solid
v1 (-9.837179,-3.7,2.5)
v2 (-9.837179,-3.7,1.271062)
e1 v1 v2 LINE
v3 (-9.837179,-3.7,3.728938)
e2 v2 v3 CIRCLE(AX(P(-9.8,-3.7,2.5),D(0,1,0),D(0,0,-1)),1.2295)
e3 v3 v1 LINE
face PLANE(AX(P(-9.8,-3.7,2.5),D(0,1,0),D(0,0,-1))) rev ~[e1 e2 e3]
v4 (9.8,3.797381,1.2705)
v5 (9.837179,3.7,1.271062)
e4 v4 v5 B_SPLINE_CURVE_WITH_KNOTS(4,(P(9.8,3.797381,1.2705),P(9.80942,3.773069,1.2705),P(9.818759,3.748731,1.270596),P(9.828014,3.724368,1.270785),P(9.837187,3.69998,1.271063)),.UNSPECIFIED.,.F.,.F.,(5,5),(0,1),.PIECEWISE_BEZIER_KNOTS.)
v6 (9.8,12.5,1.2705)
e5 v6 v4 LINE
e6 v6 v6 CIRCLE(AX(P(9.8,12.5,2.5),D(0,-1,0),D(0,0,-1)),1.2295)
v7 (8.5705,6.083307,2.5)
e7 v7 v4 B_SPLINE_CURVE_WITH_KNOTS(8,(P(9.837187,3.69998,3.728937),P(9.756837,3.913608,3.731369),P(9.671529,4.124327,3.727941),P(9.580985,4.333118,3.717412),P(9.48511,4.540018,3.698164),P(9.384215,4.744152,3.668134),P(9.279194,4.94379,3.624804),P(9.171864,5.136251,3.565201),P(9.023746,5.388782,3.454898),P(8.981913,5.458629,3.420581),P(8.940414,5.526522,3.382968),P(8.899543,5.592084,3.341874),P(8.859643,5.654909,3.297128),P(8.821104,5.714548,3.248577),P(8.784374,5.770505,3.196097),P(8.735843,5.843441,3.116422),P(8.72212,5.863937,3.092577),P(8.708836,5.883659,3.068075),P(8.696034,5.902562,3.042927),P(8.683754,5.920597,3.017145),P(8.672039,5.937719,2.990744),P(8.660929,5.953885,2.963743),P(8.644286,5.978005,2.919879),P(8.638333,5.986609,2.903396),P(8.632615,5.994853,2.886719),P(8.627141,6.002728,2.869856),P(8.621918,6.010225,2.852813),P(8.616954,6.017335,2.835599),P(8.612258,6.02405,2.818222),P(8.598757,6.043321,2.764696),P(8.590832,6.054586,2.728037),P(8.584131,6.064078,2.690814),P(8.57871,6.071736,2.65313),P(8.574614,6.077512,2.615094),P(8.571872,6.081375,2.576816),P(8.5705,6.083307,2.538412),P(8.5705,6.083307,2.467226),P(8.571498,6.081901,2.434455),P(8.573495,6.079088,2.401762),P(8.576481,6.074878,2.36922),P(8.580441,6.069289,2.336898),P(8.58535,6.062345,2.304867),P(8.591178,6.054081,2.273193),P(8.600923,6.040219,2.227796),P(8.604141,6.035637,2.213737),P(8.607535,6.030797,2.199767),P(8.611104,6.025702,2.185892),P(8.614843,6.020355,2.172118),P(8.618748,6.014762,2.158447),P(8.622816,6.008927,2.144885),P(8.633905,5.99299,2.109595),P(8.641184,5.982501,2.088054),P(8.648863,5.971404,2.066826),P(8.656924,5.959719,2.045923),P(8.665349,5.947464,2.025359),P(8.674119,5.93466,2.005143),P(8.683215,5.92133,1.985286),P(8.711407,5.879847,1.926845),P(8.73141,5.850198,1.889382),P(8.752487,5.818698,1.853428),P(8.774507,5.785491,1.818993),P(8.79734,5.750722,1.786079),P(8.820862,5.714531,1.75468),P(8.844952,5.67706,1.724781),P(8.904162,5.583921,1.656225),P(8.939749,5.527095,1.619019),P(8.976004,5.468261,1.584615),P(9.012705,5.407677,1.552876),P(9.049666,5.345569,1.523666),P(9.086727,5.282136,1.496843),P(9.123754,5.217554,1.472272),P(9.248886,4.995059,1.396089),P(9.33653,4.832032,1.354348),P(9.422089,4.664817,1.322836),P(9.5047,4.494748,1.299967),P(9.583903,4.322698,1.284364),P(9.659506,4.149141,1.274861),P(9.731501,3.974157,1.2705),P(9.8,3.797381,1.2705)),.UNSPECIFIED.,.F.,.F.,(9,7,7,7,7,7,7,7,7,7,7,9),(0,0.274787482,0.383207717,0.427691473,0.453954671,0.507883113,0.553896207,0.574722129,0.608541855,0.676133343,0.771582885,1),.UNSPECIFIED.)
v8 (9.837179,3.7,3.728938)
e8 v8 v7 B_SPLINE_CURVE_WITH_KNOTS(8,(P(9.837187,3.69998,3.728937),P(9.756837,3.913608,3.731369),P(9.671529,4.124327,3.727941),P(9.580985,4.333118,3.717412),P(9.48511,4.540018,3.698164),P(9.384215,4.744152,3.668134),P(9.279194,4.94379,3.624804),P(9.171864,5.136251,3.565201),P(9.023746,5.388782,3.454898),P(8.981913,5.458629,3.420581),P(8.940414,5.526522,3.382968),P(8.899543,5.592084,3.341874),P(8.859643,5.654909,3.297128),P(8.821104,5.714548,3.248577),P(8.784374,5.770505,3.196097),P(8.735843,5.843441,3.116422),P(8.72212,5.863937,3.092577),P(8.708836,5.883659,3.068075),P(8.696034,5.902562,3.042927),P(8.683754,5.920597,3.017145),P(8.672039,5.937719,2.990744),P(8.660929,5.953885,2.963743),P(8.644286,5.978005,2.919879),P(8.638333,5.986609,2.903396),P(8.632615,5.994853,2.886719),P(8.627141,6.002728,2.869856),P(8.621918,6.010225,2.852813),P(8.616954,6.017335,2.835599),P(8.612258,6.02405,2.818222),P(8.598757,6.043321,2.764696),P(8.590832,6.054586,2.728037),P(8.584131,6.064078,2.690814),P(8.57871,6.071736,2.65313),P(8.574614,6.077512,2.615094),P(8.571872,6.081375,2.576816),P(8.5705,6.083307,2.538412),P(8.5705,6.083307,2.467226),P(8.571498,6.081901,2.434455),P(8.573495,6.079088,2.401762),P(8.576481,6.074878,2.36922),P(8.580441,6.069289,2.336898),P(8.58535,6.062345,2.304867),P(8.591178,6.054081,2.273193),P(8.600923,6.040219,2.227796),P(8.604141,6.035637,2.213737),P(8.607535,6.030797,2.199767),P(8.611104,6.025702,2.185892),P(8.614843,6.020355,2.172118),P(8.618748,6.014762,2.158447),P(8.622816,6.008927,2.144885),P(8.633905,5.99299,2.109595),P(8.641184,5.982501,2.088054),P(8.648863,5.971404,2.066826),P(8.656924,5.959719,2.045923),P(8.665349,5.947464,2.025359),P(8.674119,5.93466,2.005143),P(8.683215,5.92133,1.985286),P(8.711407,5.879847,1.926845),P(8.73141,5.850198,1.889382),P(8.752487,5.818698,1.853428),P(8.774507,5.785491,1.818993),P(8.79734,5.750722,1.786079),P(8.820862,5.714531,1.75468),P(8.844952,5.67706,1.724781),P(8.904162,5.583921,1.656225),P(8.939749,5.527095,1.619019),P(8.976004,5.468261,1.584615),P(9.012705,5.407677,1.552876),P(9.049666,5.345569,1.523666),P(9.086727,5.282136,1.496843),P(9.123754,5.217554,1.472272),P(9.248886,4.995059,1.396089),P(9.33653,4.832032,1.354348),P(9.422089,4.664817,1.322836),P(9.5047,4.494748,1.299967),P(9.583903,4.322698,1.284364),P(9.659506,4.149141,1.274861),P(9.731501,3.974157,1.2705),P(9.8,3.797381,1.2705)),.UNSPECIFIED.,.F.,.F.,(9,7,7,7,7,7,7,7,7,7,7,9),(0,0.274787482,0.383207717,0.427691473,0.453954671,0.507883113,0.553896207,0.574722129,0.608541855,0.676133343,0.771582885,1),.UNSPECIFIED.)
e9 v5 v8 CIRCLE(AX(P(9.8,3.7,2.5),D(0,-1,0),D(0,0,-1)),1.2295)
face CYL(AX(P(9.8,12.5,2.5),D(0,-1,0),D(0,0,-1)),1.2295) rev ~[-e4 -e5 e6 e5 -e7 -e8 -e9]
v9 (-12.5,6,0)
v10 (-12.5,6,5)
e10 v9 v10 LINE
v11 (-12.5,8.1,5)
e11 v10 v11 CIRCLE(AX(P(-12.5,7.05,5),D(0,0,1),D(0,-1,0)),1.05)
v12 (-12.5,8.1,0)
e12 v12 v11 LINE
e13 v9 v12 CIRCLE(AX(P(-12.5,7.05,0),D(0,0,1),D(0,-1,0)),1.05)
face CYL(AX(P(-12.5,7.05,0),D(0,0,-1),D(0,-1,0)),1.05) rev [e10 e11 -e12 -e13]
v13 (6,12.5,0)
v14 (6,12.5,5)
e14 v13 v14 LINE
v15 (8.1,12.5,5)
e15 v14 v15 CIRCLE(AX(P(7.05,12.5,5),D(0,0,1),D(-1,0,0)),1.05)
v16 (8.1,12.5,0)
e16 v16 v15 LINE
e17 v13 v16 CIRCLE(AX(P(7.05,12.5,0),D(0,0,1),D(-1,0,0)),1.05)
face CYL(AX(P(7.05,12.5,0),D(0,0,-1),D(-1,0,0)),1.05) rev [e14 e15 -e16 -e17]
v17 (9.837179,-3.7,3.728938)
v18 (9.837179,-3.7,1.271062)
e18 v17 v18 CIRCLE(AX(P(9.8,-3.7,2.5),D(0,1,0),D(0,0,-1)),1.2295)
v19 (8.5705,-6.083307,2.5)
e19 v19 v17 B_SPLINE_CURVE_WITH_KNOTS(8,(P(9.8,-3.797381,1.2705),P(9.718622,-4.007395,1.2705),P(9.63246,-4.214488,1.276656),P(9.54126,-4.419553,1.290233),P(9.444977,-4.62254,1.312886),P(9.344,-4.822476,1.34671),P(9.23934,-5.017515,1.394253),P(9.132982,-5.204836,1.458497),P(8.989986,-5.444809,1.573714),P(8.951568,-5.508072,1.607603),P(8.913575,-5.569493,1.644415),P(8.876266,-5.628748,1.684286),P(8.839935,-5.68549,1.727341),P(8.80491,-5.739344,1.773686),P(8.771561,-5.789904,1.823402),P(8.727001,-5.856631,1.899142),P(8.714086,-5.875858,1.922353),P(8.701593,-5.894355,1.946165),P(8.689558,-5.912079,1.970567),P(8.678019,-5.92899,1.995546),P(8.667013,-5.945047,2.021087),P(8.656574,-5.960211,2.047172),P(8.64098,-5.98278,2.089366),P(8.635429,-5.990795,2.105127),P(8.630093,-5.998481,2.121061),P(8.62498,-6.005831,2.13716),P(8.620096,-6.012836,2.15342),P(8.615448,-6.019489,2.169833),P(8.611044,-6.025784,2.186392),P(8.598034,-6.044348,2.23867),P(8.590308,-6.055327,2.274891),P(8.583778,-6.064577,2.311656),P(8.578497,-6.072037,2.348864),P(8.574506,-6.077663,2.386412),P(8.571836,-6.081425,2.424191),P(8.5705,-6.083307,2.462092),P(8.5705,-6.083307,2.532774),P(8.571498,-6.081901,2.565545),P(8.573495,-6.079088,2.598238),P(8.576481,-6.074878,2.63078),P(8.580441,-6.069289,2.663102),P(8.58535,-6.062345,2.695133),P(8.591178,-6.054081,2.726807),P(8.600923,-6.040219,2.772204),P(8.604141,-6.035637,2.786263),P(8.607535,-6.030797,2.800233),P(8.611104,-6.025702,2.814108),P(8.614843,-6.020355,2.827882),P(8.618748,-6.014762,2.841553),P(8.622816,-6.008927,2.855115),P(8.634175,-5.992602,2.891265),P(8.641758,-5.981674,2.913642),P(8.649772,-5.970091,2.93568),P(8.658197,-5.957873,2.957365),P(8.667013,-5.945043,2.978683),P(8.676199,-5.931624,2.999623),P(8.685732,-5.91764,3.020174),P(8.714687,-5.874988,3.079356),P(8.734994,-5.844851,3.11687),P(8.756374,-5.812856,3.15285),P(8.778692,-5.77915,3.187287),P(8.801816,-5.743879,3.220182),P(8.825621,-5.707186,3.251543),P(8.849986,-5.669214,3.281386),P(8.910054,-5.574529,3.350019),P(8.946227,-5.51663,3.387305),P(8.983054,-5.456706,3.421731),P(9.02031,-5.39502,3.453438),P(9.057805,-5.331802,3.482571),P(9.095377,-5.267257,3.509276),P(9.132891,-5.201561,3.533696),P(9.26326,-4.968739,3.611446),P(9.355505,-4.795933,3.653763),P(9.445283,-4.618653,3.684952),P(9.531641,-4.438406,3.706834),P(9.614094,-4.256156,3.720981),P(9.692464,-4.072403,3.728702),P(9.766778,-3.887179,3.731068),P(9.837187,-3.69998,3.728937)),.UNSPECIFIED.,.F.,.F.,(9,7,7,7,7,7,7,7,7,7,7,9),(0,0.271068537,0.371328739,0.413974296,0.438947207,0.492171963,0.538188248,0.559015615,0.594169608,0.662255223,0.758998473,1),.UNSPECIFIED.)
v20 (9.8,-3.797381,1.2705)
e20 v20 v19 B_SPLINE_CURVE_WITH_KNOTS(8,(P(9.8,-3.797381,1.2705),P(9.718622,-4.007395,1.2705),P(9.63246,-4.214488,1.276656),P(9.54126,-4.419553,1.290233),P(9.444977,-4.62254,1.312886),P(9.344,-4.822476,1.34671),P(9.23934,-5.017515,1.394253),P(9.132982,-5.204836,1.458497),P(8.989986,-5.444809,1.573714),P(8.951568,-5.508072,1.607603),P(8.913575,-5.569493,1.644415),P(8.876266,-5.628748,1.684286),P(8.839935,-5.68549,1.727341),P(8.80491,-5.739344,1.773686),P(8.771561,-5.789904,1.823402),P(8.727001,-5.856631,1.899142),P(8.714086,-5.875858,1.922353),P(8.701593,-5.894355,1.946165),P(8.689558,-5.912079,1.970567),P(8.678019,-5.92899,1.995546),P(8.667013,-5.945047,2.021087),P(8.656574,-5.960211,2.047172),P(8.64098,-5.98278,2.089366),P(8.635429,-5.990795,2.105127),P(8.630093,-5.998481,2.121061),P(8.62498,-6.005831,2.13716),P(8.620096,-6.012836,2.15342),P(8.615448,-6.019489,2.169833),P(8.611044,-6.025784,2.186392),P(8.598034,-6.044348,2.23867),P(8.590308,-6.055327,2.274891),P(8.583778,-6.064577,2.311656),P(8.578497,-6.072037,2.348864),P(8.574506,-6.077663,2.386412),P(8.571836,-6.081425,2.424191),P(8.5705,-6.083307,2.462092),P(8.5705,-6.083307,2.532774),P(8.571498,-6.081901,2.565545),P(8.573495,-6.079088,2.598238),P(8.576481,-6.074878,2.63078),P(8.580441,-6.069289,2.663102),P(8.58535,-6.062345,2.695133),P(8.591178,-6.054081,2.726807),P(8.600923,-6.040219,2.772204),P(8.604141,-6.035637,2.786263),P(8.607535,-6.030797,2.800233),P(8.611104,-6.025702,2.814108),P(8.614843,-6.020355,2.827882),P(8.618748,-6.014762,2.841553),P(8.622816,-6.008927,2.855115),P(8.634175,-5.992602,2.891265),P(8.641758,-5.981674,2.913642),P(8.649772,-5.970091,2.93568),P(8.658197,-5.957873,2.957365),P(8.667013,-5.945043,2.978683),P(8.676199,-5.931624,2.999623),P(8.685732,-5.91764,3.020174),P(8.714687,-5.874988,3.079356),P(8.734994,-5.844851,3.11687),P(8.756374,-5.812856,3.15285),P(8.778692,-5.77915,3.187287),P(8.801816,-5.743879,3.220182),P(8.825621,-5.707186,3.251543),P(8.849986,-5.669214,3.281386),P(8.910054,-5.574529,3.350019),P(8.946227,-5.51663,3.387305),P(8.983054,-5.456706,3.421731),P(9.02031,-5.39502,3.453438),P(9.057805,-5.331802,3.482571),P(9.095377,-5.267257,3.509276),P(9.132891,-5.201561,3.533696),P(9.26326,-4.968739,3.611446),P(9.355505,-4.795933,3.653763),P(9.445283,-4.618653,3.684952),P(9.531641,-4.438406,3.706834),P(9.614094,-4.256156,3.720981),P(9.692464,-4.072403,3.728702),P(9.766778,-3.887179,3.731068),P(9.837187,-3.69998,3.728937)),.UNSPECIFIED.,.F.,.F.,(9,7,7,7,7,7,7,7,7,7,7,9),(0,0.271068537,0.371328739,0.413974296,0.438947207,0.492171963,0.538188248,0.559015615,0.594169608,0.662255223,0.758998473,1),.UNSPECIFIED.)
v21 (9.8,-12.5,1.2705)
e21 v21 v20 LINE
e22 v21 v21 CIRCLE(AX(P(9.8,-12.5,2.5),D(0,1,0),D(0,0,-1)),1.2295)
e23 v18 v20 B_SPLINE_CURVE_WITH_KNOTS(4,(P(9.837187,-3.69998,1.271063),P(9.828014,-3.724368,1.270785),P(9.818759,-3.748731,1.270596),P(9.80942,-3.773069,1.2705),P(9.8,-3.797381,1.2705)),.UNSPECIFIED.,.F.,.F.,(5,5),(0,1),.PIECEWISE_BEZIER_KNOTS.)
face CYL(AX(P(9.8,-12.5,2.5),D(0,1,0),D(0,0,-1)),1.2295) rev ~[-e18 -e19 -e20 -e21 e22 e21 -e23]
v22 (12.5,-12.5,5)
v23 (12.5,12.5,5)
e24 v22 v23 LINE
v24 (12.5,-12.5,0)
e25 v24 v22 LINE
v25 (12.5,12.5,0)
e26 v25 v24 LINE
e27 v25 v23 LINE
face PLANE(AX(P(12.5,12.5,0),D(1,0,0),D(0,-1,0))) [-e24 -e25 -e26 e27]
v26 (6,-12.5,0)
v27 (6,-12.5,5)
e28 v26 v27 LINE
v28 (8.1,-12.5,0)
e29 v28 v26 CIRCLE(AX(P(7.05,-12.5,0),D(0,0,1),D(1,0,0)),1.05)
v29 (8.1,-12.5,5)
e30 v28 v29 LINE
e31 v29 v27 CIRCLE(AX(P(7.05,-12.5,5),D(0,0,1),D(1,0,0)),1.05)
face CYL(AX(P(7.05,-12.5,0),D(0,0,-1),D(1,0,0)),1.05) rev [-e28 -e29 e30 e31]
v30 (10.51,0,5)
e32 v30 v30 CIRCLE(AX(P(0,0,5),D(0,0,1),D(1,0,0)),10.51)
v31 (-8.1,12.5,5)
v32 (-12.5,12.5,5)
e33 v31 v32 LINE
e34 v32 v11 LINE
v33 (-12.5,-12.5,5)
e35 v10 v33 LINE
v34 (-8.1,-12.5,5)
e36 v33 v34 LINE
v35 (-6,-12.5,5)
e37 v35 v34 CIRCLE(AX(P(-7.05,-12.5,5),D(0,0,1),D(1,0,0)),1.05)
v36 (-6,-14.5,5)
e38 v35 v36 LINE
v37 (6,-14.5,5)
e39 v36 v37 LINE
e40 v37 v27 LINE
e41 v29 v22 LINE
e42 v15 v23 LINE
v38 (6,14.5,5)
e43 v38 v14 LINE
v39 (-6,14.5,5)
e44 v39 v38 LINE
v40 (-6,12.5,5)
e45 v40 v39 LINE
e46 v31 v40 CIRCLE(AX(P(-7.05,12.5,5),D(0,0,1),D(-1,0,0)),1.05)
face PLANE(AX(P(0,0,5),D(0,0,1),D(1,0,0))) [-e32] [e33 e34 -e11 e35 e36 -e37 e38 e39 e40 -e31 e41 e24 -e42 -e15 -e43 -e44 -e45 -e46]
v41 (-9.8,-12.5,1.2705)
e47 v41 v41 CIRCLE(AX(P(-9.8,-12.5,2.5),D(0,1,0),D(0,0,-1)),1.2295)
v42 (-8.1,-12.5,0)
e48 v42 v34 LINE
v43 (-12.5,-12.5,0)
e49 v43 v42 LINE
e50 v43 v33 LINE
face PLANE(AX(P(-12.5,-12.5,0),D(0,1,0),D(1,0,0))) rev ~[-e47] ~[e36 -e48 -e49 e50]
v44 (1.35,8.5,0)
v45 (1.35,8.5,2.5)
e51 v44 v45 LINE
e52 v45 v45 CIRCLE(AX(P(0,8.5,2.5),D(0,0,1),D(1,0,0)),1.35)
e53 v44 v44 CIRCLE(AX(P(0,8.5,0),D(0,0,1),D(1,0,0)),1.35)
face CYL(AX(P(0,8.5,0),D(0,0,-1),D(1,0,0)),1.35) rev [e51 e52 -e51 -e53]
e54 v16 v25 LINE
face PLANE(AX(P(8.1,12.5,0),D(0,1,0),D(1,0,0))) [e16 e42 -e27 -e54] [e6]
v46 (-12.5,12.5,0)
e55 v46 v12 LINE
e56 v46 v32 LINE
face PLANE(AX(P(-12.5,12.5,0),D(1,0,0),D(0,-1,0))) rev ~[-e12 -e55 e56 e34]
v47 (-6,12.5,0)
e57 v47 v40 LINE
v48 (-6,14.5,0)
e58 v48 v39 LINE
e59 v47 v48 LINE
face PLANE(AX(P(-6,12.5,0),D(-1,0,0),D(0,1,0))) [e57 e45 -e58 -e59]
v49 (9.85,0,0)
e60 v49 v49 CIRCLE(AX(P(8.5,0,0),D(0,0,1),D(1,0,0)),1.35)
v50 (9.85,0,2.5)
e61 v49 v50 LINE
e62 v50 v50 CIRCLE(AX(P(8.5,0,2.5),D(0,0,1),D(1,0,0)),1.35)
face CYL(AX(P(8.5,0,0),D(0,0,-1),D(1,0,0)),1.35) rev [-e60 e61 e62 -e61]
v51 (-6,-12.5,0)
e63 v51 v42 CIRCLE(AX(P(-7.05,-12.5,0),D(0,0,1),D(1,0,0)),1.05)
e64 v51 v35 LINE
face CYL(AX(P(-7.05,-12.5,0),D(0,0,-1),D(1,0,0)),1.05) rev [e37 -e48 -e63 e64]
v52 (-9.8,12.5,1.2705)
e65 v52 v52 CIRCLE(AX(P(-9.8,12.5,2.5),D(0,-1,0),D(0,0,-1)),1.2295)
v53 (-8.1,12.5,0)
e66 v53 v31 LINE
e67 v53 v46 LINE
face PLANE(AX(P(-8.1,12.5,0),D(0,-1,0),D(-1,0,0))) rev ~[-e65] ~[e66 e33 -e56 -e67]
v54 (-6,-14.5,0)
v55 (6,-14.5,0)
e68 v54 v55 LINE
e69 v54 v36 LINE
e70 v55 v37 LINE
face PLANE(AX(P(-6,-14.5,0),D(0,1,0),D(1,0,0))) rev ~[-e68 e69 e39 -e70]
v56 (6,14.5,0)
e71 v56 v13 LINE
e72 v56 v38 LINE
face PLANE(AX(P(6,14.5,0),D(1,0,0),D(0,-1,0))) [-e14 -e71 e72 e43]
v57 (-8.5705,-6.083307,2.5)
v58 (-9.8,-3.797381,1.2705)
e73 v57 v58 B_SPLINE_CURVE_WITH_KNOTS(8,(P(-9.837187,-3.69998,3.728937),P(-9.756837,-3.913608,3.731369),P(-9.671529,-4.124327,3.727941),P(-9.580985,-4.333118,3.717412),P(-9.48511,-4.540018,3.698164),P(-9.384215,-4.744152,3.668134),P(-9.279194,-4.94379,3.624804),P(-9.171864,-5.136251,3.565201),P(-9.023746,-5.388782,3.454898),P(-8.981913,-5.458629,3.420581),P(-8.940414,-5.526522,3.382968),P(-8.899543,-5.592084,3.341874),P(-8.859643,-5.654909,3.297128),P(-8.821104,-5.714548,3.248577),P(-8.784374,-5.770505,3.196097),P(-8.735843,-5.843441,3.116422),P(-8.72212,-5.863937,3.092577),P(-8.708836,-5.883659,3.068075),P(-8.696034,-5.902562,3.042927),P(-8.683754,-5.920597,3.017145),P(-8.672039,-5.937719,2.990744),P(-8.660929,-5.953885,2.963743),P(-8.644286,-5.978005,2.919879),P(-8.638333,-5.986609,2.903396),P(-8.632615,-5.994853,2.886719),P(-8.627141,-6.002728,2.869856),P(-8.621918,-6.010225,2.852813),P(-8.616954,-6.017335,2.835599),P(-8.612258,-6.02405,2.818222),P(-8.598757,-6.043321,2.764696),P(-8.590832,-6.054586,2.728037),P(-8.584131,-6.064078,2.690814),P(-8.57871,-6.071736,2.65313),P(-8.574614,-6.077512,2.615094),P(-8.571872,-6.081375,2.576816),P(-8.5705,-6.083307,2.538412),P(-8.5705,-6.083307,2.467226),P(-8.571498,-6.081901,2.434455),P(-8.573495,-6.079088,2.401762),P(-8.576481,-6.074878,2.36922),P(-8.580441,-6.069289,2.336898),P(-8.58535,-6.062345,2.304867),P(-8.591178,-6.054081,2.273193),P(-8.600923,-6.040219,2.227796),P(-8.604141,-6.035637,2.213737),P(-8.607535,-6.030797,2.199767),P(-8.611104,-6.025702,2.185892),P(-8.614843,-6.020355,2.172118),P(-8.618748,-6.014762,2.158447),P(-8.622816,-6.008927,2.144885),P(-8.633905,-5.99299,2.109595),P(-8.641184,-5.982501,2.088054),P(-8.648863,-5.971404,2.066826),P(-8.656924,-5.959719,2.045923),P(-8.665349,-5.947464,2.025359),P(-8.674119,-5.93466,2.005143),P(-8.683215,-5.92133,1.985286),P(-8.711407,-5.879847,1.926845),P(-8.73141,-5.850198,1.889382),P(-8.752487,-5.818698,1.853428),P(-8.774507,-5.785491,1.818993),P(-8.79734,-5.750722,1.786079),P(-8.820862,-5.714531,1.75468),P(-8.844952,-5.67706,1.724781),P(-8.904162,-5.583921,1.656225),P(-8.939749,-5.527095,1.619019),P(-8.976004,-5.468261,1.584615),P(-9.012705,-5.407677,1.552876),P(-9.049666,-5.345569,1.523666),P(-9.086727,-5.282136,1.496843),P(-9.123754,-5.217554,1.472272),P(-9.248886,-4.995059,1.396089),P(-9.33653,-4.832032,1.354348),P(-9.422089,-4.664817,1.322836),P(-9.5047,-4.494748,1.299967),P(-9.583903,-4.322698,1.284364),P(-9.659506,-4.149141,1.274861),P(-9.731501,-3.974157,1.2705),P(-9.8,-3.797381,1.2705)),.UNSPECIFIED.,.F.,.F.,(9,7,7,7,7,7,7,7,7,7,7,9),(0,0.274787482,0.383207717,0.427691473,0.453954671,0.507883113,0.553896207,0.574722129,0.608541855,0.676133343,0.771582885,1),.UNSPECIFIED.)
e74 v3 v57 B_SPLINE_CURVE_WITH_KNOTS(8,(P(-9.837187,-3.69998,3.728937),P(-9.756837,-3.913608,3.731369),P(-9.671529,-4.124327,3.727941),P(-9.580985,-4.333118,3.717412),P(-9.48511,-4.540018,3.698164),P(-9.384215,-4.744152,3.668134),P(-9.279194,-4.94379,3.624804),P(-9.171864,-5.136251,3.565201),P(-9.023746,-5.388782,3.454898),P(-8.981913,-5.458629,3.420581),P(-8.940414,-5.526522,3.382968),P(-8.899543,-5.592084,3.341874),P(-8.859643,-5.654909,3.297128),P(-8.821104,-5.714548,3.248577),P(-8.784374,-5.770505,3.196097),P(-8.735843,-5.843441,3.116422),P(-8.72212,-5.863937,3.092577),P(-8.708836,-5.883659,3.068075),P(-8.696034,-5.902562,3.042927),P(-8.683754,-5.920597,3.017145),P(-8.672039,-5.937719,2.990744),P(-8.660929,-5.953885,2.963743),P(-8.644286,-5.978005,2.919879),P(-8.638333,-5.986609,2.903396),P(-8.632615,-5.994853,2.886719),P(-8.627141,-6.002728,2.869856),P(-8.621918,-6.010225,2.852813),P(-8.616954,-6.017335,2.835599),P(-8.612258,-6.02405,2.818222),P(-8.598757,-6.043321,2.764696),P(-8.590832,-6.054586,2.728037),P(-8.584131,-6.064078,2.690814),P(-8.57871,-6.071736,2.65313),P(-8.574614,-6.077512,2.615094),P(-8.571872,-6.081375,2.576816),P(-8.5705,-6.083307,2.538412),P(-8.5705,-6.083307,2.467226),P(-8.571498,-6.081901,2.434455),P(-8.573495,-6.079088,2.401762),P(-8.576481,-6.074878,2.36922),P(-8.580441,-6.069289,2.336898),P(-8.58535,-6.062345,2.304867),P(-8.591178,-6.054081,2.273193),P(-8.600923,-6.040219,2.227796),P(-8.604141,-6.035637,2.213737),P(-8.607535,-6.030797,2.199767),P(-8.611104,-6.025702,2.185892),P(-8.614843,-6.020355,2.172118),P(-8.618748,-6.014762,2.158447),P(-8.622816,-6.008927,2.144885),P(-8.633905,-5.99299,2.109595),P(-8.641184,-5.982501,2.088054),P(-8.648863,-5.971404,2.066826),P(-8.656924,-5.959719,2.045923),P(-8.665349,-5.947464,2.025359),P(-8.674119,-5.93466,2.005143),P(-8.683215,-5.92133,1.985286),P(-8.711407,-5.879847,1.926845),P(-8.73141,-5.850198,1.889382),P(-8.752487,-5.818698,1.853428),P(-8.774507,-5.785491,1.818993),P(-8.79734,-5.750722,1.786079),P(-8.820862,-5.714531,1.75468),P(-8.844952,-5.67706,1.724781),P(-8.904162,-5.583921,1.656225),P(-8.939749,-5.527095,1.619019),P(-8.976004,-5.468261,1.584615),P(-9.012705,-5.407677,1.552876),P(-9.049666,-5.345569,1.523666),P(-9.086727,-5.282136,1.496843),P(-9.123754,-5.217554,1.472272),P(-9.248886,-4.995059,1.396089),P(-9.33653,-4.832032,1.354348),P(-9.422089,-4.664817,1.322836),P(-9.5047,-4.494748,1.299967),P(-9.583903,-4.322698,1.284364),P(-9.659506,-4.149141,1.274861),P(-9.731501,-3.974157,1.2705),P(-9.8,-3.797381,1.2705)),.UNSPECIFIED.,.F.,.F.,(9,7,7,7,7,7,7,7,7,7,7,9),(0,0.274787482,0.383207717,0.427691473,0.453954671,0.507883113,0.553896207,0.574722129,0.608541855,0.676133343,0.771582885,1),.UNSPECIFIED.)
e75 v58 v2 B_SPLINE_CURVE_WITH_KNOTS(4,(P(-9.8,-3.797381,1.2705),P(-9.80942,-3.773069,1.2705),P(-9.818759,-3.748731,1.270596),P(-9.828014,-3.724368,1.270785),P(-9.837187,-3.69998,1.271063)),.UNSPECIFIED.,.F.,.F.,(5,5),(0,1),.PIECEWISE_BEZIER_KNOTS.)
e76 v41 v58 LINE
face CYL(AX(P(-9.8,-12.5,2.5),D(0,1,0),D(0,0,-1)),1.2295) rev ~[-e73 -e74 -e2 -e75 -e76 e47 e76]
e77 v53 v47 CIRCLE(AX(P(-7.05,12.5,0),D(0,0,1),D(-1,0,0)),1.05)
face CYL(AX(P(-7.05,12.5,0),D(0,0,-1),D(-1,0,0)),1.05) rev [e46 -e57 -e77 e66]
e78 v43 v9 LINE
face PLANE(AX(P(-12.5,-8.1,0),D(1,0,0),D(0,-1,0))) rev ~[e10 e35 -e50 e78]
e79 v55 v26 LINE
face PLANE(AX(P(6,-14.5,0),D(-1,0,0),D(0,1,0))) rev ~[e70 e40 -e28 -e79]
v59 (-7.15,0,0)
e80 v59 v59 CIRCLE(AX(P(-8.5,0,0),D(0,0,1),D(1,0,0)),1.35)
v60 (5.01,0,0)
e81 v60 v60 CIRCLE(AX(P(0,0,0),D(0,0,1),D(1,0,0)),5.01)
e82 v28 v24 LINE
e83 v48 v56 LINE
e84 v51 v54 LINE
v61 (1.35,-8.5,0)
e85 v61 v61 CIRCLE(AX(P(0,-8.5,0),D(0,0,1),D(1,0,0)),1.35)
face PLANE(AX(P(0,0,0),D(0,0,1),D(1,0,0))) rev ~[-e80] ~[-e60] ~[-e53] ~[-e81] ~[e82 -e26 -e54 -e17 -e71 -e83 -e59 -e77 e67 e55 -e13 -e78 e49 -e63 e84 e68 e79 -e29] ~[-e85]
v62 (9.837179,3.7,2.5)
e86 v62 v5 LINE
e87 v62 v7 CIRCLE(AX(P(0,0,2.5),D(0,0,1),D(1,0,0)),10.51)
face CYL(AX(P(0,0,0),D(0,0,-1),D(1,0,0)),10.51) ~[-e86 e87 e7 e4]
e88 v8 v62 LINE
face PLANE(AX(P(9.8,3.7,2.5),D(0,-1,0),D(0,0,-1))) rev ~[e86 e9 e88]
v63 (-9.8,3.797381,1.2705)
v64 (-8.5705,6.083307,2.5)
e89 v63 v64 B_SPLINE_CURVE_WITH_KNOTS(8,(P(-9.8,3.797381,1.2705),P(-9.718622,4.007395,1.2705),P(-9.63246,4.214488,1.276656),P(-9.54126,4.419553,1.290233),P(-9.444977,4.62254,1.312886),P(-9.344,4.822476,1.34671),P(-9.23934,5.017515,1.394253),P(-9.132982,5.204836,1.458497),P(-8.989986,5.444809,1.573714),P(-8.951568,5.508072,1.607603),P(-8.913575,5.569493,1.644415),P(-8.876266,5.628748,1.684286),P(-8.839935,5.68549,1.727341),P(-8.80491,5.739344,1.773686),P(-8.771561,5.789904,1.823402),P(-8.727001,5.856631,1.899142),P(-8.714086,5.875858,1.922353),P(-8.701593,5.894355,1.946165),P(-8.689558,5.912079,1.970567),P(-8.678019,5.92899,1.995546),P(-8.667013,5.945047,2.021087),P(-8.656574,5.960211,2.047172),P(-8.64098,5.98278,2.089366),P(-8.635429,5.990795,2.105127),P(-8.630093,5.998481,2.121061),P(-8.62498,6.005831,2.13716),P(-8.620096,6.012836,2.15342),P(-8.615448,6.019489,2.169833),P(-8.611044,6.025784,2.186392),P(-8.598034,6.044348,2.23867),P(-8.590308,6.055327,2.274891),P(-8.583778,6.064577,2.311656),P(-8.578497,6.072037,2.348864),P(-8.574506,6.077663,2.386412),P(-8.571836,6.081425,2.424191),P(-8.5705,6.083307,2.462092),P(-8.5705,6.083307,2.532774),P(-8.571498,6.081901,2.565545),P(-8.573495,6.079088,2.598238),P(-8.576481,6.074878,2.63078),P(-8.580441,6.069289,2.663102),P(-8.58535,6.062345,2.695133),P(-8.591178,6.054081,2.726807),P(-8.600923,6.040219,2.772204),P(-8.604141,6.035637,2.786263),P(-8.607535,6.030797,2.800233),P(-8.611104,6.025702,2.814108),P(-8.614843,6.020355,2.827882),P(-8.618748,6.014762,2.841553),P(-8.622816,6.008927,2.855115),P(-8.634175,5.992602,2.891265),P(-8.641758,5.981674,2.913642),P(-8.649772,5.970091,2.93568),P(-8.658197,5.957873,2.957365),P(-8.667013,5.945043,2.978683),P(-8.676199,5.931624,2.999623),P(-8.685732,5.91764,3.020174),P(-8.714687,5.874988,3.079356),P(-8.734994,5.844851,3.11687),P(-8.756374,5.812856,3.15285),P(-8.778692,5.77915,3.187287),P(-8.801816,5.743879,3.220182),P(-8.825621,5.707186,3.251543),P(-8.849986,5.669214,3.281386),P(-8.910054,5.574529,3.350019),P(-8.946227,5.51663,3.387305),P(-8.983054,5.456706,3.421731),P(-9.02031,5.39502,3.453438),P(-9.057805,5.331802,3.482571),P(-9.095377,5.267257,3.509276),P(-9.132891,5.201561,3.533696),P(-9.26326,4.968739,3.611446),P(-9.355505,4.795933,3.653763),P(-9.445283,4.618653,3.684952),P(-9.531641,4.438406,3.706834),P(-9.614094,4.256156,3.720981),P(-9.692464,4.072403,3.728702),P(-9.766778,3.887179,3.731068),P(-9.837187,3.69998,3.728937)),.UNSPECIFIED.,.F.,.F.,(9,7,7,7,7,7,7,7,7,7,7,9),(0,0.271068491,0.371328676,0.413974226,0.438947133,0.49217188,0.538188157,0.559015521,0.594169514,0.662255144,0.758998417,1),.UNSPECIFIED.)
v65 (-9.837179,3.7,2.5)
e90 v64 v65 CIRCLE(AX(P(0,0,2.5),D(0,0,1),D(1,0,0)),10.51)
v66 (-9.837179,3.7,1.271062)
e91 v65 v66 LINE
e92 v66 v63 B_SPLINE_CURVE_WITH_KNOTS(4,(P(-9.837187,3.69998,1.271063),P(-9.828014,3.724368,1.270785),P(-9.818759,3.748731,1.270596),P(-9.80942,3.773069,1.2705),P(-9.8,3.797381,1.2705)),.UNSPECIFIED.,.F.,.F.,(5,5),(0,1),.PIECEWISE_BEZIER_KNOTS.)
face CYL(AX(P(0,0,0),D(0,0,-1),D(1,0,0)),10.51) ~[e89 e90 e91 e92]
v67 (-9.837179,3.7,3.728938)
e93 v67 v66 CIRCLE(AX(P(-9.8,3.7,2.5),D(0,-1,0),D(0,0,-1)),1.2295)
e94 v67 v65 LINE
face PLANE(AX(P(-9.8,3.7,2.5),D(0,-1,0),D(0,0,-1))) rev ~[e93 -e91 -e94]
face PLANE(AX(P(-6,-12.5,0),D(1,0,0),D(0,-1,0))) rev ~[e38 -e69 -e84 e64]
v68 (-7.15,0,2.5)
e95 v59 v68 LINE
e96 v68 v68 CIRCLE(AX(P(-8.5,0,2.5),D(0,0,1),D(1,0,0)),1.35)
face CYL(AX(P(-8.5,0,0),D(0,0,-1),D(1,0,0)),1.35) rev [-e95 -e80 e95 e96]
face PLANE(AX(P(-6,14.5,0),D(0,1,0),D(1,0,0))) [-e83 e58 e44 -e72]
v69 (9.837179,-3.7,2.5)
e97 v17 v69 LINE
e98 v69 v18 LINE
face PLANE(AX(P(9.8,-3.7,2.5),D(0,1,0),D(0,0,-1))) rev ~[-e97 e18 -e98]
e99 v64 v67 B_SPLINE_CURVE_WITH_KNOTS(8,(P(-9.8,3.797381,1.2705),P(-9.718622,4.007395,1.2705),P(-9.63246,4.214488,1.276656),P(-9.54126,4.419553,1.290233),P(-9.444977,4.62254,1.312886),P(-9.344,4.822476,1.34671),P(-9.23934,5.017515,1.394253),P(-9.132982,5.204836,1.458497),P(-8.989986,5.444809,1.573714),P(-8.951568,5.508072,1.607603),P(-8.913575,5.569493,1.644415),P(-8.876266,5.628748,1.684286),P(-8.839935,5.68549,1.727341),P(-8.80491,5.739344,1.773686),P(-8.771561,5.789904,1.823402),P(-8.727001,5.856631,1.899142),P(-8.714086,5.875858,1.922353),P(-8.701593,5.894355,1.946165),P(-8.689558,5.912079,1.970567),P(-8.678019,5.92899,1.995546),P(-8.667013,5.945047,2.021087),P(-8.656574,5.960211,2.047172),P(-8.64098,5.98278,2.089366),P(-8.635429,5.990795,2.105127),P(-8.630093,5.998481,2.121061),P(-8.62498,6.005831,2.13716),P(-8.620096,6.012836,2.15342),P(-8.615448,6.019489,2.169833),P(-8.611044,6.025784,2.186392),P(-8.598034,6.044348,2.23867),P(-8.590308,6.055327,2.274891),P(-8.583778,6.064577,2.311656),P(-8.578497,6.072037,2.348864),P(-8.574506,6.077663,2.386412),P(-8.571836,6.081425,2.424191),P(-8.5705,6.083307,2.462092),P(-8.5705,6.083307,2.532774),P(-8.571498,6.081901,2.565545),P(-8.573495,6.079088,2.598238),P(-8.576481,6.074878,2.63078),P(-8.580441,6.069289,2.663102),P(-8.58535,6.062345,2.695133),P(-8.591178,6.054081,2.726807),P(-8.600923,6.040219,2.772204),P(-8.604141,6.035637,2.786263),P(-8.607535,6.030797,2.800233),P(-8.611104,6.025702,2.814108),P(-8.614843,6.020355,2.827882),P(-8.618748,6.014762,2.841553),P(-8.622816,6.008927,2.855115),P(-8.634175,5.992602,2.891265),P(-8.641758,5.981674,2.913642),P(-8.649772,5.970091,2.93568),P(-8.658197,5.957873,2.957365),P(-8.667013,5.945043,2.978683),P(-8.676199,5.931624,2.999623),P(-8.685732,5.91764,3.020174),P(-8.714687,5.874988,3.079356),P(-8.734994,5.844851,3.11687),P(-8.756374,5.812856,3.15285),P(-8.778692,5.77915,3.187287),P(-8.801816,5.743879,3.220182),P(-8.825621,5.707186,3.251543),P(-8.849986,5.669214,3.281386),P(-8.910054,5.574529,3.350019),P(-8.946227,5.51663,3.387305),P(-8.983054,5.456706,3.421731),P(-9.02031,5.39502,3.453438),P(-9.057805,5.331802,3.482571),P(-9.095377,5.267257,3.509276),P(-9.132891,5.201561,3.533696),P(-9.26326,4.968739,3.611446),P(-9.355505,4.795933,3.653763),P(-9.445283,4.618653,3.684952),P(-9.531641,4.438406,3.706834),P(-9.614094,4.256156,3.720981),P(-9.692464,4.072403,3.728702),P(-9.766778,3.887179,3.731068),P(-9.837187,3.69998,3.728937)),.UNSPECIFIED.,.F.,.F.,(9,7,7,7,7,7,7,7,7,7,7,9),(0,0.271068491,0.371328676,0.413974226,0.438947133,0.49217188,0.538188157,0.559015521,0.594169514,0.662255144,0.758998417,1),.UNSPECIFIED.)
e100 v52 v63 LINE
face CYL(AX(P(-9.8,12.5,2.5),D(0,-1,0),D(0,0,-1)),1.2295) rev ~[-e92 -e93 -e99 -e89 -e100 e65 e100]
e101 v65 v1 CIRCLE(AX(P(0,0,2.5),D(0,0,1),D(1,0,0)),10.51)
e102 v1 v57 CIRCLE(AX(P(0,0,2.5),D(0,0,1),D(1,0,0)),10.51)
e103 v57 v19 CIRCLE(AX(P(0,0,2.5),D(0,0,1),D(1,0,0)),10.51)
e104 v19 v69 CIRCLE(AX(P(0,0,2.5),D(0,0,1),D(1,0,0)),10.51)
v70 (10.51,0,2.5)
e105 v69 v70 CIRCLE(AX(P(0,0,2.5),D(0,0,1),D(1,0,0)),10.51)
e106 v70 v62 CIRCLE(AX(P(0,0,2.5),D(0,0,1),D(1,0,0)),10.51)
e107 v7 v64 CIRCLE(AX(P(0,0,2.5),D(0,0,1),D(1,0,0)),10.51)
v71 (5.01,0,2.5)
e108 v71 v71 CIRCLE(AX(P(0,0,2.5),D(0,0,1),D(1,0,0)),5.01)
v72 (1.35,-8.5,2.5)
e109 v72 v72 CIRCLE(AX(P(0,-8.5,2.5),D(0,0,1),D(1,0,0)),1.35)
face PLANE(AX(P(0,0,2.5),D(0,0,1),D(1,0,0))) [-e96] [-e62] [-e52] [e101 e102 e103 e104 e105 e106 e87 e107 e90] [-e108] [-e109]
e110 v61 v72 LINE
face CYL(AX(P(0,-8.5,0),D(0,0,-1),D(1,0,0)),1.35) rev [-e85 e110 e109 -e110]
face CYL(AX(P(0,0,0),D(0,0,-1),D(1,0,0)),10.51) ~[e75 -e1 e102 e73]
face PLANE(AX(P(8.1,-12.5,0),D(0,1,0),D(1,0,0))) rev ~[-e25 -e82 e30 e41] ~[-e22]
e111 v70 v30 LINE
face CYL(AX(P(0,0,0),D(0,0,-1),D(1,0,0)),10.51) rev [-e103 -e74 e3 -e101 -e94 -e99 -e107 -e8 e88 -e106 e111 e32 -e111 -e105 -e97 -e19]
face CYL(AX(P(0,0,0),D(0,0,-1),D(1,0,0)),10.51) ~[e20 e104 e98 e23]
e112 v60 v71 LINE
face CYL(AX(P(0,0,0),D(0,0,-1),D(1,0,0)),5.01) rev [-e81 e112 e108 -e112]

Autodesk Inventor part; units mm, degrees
ref_plane "YZ Plane" through (0, 0, 0) normal (1, 0, 0) x (0, 1, 0)
ref_plane "XZ Plane" through (0, 0, 0) normal (0, 1, 0) x (-1, 0, 0)
ref_plane "XY Plane" through (0, 0, 0) normal (0, 0, 1) x (1, 0, 0)
sketch "スケッチ1" plane through (0, 0, 0) normal (0, 0, 1) x (1, 0, 0)
  line L0 (-12.5, -12.5) -> (12.5, -12.5) construction
  line L1 (12.5, -12.5) -> (12.5, 12.5) construction
  line L2 (12.5, 12.5) -> (-12.5, 12.5) construction
  line L3 (-12.5, 12.5) -> (-12.5, -12.5) construction
  line L4 (-12.5, -12.5) -> (12.5, 12.5) construction
  line L5 (12.5, -12.5) -> (-12.5, 12.5) construction
  line L6 (-8.1, 12.5) -> (-12.5, 12.5)
  line L7 (-12.5, 12.5) -> (-12.5, 8.1)
  line L8 (8.1, 12.5) -> (12.5, 12.5)
  line L9 (12.5, 12.5) -> (12.5, 8.1)
  line L10 (-12.5, -8.1) -> (-12.5, -12.5)
  line L11 (-12.5, -12.5) -> (-8.1, -12.5)
  line L12 (8.1, -12.5) -> (12.5, -12.5)
  line L13 (12.5, -12.5) -> (12.5, -8.1)
  line L14 (-6, 12.5) -> (-6, 14.5)
  line L15 (-6, 14.5) -> (6, 14.5)
  line L16 (6, 14.5) -> (6, 12.5)
  arc A0 (-8.1, 12.5) -> (-6, 12.5) centre (-7.05, 12.5) ccw
  arc A1 (6, 12.5) -> (8.1, 12.5) centre (7.05, 12.5) ccw
  line L17 (0, 12.5) -> (0, 0) construction
  line L18 (0, 0) -> (12.5, 0) construction
  line L19 (-12.5, 6) -> (-14.5, 6) construction
  line L20 (-14.5, 6) -> (-14.5, -6) construction
  line L21 (-14.5, -6) -> (-12.5, -6) construction
  arc A2 (-12.5, 6) -> (-12.5, 8.1) centre (-12.5, 7.05) ccw
  arc A3 (-12.5, -8.1) -> (-12.5, -6) centre (-12.5, -7.05) ccw construction
  line L22 (-6, -12.5) -> (-6, -14.5)
  line L23 (-6, -14.5) -> (6, -14.5)
  line L24 (6, -14.5) -> (6, -12.5)
  arc A4 (-6, -12.5) -> (-8.1, -12.5) centre (-7.05, -12.5) ccw
  arc A5 (8.1, -12.5) -> (6, -12.5) centre (7.05, -12.5) ccw
  line L25 (12.5, 6) -> (14.5, 6) construction
  line L26 (14.5, 6) -> (14.5, -6) construction
  line L27 (14.5, -6) -> (12.5, -6) construction
  arc A6 (12.5, 8.1) -> (12.5, 6) centre (12.5, 7.05) ccw construction
  arc A7 (12.5, -6) -> (12.5, -8.1) centre (12.5, -7.05) ccw construction
  line L28 (-9.05, 12.5) -> (-5.95, 12.5) construction
  line L29 (-5.95, 12.5) -> (-5.95, 9.5) construction
  line L30 (-5.95, 9.5) -> (-9.05, 9.5) construction
  line L31 (-9.05, 9.5) -> (-9.05, 12.5) construction
  line L32 (-12.5, 9.05) -> (-9.5, 9.05) construction
  line L33 (-9.5, 5.95) -> (-12.5, 5.95) construction
  line L34 (-12.5, 5.95) -> (-12.5, 9.05) construction
  line L35 (-7.5, 12.5) -> (-7.5, 9.5) construction
  line L36 (-9.5, 7.5) -> (-12.5, 7.5) construction
  line L37 (-12.5, -12.5) -> (-12.5, 12.5)
  line L38 (12.5, -12.5) -> (12.5, 12.5)
  line L39 (0, -14.5) -> (0, 14.5) construction
  circle A8 centre (0, -8.5) radius 1.35
  circle A9 centre (8.5, 0) radius 1.35
  circle A10 centre (0, 8.5) radius 1.35
  circle A11 centre (-8.5, 0) radius 1.35
  circle A12 centre (0, 0) radius 5.01
  circle A13 centre (0, 0) radius 10.51
  point P0 (-12.5, 6)
  dimension "d0" = 25
  dimension "d1" = 1.05
  dimension "d2" = 2
  dimension "d3" = 6.5
  dimension "d4" = 3.1
  dimension "d6" = 3
  dimension "d17" = 5
  dimension "d18" = 5
  dimension "d46" = 25
  dimension "d58" = 2.7
  dimension "d59" = 8.5
  dimension "d62" = 360
  dimension "d64" = 10.02
  dimension "d65" = 21.02
extrude "押し出し1" add sketch "スケッチ1" along normal blind 5 contours A0 L14 L15 L16 A1 L8 L9 L38 L13 L12 A5 L24 L23 L22 A4 L11 L10 L37 A2 L7 L6
sketch "スケッチ2" plane through (-12.5, -12.5, 5) normal (0, -1, 0) x (1, 0, 0)
  line L0 (12.5, 0) -> (12.5, -5.2657) construction
  line L1 (0, -2.5) -> (22.3, -2.5) construction
  line L2 (0, -5) -> (0, 0) projected
  line L3 (6.5, 0) -> (18.5, 0) projected
  line L4 (25, -5) -> (25, 0) projected
  point P0 (12.5, -5)
  point P1 (2.7, -2.5)
  point P2 (0, -10)
  point P3 (25, -10)
  dimension "d55" = 2.5
  dimension "d56" = 2.7
  dimension "d57" = 2.7
hole "穴1" at (-9.8, -12.5, 2.5) at (9.8, -12.5, 2.5) direction (0, 1, 0) diameter 2.459 depth 8.8 thread size "M3x0.5" class "6H" standard "ISO Metric profile"
pattern_circular "円形状パターン1" count 2 over 360 about axis through (0, 0, -10) along (0, 0, 1) of "穴1"
extrude "押し出し7" add sketch "スケッチ1" along normal blind 2.5 contours A13
equation "\"d18\" = d17"
equation "\"d57\" = d56"
properties part number "頭_サーボホーンフレーム" material "アセタール樹脂、黒"
